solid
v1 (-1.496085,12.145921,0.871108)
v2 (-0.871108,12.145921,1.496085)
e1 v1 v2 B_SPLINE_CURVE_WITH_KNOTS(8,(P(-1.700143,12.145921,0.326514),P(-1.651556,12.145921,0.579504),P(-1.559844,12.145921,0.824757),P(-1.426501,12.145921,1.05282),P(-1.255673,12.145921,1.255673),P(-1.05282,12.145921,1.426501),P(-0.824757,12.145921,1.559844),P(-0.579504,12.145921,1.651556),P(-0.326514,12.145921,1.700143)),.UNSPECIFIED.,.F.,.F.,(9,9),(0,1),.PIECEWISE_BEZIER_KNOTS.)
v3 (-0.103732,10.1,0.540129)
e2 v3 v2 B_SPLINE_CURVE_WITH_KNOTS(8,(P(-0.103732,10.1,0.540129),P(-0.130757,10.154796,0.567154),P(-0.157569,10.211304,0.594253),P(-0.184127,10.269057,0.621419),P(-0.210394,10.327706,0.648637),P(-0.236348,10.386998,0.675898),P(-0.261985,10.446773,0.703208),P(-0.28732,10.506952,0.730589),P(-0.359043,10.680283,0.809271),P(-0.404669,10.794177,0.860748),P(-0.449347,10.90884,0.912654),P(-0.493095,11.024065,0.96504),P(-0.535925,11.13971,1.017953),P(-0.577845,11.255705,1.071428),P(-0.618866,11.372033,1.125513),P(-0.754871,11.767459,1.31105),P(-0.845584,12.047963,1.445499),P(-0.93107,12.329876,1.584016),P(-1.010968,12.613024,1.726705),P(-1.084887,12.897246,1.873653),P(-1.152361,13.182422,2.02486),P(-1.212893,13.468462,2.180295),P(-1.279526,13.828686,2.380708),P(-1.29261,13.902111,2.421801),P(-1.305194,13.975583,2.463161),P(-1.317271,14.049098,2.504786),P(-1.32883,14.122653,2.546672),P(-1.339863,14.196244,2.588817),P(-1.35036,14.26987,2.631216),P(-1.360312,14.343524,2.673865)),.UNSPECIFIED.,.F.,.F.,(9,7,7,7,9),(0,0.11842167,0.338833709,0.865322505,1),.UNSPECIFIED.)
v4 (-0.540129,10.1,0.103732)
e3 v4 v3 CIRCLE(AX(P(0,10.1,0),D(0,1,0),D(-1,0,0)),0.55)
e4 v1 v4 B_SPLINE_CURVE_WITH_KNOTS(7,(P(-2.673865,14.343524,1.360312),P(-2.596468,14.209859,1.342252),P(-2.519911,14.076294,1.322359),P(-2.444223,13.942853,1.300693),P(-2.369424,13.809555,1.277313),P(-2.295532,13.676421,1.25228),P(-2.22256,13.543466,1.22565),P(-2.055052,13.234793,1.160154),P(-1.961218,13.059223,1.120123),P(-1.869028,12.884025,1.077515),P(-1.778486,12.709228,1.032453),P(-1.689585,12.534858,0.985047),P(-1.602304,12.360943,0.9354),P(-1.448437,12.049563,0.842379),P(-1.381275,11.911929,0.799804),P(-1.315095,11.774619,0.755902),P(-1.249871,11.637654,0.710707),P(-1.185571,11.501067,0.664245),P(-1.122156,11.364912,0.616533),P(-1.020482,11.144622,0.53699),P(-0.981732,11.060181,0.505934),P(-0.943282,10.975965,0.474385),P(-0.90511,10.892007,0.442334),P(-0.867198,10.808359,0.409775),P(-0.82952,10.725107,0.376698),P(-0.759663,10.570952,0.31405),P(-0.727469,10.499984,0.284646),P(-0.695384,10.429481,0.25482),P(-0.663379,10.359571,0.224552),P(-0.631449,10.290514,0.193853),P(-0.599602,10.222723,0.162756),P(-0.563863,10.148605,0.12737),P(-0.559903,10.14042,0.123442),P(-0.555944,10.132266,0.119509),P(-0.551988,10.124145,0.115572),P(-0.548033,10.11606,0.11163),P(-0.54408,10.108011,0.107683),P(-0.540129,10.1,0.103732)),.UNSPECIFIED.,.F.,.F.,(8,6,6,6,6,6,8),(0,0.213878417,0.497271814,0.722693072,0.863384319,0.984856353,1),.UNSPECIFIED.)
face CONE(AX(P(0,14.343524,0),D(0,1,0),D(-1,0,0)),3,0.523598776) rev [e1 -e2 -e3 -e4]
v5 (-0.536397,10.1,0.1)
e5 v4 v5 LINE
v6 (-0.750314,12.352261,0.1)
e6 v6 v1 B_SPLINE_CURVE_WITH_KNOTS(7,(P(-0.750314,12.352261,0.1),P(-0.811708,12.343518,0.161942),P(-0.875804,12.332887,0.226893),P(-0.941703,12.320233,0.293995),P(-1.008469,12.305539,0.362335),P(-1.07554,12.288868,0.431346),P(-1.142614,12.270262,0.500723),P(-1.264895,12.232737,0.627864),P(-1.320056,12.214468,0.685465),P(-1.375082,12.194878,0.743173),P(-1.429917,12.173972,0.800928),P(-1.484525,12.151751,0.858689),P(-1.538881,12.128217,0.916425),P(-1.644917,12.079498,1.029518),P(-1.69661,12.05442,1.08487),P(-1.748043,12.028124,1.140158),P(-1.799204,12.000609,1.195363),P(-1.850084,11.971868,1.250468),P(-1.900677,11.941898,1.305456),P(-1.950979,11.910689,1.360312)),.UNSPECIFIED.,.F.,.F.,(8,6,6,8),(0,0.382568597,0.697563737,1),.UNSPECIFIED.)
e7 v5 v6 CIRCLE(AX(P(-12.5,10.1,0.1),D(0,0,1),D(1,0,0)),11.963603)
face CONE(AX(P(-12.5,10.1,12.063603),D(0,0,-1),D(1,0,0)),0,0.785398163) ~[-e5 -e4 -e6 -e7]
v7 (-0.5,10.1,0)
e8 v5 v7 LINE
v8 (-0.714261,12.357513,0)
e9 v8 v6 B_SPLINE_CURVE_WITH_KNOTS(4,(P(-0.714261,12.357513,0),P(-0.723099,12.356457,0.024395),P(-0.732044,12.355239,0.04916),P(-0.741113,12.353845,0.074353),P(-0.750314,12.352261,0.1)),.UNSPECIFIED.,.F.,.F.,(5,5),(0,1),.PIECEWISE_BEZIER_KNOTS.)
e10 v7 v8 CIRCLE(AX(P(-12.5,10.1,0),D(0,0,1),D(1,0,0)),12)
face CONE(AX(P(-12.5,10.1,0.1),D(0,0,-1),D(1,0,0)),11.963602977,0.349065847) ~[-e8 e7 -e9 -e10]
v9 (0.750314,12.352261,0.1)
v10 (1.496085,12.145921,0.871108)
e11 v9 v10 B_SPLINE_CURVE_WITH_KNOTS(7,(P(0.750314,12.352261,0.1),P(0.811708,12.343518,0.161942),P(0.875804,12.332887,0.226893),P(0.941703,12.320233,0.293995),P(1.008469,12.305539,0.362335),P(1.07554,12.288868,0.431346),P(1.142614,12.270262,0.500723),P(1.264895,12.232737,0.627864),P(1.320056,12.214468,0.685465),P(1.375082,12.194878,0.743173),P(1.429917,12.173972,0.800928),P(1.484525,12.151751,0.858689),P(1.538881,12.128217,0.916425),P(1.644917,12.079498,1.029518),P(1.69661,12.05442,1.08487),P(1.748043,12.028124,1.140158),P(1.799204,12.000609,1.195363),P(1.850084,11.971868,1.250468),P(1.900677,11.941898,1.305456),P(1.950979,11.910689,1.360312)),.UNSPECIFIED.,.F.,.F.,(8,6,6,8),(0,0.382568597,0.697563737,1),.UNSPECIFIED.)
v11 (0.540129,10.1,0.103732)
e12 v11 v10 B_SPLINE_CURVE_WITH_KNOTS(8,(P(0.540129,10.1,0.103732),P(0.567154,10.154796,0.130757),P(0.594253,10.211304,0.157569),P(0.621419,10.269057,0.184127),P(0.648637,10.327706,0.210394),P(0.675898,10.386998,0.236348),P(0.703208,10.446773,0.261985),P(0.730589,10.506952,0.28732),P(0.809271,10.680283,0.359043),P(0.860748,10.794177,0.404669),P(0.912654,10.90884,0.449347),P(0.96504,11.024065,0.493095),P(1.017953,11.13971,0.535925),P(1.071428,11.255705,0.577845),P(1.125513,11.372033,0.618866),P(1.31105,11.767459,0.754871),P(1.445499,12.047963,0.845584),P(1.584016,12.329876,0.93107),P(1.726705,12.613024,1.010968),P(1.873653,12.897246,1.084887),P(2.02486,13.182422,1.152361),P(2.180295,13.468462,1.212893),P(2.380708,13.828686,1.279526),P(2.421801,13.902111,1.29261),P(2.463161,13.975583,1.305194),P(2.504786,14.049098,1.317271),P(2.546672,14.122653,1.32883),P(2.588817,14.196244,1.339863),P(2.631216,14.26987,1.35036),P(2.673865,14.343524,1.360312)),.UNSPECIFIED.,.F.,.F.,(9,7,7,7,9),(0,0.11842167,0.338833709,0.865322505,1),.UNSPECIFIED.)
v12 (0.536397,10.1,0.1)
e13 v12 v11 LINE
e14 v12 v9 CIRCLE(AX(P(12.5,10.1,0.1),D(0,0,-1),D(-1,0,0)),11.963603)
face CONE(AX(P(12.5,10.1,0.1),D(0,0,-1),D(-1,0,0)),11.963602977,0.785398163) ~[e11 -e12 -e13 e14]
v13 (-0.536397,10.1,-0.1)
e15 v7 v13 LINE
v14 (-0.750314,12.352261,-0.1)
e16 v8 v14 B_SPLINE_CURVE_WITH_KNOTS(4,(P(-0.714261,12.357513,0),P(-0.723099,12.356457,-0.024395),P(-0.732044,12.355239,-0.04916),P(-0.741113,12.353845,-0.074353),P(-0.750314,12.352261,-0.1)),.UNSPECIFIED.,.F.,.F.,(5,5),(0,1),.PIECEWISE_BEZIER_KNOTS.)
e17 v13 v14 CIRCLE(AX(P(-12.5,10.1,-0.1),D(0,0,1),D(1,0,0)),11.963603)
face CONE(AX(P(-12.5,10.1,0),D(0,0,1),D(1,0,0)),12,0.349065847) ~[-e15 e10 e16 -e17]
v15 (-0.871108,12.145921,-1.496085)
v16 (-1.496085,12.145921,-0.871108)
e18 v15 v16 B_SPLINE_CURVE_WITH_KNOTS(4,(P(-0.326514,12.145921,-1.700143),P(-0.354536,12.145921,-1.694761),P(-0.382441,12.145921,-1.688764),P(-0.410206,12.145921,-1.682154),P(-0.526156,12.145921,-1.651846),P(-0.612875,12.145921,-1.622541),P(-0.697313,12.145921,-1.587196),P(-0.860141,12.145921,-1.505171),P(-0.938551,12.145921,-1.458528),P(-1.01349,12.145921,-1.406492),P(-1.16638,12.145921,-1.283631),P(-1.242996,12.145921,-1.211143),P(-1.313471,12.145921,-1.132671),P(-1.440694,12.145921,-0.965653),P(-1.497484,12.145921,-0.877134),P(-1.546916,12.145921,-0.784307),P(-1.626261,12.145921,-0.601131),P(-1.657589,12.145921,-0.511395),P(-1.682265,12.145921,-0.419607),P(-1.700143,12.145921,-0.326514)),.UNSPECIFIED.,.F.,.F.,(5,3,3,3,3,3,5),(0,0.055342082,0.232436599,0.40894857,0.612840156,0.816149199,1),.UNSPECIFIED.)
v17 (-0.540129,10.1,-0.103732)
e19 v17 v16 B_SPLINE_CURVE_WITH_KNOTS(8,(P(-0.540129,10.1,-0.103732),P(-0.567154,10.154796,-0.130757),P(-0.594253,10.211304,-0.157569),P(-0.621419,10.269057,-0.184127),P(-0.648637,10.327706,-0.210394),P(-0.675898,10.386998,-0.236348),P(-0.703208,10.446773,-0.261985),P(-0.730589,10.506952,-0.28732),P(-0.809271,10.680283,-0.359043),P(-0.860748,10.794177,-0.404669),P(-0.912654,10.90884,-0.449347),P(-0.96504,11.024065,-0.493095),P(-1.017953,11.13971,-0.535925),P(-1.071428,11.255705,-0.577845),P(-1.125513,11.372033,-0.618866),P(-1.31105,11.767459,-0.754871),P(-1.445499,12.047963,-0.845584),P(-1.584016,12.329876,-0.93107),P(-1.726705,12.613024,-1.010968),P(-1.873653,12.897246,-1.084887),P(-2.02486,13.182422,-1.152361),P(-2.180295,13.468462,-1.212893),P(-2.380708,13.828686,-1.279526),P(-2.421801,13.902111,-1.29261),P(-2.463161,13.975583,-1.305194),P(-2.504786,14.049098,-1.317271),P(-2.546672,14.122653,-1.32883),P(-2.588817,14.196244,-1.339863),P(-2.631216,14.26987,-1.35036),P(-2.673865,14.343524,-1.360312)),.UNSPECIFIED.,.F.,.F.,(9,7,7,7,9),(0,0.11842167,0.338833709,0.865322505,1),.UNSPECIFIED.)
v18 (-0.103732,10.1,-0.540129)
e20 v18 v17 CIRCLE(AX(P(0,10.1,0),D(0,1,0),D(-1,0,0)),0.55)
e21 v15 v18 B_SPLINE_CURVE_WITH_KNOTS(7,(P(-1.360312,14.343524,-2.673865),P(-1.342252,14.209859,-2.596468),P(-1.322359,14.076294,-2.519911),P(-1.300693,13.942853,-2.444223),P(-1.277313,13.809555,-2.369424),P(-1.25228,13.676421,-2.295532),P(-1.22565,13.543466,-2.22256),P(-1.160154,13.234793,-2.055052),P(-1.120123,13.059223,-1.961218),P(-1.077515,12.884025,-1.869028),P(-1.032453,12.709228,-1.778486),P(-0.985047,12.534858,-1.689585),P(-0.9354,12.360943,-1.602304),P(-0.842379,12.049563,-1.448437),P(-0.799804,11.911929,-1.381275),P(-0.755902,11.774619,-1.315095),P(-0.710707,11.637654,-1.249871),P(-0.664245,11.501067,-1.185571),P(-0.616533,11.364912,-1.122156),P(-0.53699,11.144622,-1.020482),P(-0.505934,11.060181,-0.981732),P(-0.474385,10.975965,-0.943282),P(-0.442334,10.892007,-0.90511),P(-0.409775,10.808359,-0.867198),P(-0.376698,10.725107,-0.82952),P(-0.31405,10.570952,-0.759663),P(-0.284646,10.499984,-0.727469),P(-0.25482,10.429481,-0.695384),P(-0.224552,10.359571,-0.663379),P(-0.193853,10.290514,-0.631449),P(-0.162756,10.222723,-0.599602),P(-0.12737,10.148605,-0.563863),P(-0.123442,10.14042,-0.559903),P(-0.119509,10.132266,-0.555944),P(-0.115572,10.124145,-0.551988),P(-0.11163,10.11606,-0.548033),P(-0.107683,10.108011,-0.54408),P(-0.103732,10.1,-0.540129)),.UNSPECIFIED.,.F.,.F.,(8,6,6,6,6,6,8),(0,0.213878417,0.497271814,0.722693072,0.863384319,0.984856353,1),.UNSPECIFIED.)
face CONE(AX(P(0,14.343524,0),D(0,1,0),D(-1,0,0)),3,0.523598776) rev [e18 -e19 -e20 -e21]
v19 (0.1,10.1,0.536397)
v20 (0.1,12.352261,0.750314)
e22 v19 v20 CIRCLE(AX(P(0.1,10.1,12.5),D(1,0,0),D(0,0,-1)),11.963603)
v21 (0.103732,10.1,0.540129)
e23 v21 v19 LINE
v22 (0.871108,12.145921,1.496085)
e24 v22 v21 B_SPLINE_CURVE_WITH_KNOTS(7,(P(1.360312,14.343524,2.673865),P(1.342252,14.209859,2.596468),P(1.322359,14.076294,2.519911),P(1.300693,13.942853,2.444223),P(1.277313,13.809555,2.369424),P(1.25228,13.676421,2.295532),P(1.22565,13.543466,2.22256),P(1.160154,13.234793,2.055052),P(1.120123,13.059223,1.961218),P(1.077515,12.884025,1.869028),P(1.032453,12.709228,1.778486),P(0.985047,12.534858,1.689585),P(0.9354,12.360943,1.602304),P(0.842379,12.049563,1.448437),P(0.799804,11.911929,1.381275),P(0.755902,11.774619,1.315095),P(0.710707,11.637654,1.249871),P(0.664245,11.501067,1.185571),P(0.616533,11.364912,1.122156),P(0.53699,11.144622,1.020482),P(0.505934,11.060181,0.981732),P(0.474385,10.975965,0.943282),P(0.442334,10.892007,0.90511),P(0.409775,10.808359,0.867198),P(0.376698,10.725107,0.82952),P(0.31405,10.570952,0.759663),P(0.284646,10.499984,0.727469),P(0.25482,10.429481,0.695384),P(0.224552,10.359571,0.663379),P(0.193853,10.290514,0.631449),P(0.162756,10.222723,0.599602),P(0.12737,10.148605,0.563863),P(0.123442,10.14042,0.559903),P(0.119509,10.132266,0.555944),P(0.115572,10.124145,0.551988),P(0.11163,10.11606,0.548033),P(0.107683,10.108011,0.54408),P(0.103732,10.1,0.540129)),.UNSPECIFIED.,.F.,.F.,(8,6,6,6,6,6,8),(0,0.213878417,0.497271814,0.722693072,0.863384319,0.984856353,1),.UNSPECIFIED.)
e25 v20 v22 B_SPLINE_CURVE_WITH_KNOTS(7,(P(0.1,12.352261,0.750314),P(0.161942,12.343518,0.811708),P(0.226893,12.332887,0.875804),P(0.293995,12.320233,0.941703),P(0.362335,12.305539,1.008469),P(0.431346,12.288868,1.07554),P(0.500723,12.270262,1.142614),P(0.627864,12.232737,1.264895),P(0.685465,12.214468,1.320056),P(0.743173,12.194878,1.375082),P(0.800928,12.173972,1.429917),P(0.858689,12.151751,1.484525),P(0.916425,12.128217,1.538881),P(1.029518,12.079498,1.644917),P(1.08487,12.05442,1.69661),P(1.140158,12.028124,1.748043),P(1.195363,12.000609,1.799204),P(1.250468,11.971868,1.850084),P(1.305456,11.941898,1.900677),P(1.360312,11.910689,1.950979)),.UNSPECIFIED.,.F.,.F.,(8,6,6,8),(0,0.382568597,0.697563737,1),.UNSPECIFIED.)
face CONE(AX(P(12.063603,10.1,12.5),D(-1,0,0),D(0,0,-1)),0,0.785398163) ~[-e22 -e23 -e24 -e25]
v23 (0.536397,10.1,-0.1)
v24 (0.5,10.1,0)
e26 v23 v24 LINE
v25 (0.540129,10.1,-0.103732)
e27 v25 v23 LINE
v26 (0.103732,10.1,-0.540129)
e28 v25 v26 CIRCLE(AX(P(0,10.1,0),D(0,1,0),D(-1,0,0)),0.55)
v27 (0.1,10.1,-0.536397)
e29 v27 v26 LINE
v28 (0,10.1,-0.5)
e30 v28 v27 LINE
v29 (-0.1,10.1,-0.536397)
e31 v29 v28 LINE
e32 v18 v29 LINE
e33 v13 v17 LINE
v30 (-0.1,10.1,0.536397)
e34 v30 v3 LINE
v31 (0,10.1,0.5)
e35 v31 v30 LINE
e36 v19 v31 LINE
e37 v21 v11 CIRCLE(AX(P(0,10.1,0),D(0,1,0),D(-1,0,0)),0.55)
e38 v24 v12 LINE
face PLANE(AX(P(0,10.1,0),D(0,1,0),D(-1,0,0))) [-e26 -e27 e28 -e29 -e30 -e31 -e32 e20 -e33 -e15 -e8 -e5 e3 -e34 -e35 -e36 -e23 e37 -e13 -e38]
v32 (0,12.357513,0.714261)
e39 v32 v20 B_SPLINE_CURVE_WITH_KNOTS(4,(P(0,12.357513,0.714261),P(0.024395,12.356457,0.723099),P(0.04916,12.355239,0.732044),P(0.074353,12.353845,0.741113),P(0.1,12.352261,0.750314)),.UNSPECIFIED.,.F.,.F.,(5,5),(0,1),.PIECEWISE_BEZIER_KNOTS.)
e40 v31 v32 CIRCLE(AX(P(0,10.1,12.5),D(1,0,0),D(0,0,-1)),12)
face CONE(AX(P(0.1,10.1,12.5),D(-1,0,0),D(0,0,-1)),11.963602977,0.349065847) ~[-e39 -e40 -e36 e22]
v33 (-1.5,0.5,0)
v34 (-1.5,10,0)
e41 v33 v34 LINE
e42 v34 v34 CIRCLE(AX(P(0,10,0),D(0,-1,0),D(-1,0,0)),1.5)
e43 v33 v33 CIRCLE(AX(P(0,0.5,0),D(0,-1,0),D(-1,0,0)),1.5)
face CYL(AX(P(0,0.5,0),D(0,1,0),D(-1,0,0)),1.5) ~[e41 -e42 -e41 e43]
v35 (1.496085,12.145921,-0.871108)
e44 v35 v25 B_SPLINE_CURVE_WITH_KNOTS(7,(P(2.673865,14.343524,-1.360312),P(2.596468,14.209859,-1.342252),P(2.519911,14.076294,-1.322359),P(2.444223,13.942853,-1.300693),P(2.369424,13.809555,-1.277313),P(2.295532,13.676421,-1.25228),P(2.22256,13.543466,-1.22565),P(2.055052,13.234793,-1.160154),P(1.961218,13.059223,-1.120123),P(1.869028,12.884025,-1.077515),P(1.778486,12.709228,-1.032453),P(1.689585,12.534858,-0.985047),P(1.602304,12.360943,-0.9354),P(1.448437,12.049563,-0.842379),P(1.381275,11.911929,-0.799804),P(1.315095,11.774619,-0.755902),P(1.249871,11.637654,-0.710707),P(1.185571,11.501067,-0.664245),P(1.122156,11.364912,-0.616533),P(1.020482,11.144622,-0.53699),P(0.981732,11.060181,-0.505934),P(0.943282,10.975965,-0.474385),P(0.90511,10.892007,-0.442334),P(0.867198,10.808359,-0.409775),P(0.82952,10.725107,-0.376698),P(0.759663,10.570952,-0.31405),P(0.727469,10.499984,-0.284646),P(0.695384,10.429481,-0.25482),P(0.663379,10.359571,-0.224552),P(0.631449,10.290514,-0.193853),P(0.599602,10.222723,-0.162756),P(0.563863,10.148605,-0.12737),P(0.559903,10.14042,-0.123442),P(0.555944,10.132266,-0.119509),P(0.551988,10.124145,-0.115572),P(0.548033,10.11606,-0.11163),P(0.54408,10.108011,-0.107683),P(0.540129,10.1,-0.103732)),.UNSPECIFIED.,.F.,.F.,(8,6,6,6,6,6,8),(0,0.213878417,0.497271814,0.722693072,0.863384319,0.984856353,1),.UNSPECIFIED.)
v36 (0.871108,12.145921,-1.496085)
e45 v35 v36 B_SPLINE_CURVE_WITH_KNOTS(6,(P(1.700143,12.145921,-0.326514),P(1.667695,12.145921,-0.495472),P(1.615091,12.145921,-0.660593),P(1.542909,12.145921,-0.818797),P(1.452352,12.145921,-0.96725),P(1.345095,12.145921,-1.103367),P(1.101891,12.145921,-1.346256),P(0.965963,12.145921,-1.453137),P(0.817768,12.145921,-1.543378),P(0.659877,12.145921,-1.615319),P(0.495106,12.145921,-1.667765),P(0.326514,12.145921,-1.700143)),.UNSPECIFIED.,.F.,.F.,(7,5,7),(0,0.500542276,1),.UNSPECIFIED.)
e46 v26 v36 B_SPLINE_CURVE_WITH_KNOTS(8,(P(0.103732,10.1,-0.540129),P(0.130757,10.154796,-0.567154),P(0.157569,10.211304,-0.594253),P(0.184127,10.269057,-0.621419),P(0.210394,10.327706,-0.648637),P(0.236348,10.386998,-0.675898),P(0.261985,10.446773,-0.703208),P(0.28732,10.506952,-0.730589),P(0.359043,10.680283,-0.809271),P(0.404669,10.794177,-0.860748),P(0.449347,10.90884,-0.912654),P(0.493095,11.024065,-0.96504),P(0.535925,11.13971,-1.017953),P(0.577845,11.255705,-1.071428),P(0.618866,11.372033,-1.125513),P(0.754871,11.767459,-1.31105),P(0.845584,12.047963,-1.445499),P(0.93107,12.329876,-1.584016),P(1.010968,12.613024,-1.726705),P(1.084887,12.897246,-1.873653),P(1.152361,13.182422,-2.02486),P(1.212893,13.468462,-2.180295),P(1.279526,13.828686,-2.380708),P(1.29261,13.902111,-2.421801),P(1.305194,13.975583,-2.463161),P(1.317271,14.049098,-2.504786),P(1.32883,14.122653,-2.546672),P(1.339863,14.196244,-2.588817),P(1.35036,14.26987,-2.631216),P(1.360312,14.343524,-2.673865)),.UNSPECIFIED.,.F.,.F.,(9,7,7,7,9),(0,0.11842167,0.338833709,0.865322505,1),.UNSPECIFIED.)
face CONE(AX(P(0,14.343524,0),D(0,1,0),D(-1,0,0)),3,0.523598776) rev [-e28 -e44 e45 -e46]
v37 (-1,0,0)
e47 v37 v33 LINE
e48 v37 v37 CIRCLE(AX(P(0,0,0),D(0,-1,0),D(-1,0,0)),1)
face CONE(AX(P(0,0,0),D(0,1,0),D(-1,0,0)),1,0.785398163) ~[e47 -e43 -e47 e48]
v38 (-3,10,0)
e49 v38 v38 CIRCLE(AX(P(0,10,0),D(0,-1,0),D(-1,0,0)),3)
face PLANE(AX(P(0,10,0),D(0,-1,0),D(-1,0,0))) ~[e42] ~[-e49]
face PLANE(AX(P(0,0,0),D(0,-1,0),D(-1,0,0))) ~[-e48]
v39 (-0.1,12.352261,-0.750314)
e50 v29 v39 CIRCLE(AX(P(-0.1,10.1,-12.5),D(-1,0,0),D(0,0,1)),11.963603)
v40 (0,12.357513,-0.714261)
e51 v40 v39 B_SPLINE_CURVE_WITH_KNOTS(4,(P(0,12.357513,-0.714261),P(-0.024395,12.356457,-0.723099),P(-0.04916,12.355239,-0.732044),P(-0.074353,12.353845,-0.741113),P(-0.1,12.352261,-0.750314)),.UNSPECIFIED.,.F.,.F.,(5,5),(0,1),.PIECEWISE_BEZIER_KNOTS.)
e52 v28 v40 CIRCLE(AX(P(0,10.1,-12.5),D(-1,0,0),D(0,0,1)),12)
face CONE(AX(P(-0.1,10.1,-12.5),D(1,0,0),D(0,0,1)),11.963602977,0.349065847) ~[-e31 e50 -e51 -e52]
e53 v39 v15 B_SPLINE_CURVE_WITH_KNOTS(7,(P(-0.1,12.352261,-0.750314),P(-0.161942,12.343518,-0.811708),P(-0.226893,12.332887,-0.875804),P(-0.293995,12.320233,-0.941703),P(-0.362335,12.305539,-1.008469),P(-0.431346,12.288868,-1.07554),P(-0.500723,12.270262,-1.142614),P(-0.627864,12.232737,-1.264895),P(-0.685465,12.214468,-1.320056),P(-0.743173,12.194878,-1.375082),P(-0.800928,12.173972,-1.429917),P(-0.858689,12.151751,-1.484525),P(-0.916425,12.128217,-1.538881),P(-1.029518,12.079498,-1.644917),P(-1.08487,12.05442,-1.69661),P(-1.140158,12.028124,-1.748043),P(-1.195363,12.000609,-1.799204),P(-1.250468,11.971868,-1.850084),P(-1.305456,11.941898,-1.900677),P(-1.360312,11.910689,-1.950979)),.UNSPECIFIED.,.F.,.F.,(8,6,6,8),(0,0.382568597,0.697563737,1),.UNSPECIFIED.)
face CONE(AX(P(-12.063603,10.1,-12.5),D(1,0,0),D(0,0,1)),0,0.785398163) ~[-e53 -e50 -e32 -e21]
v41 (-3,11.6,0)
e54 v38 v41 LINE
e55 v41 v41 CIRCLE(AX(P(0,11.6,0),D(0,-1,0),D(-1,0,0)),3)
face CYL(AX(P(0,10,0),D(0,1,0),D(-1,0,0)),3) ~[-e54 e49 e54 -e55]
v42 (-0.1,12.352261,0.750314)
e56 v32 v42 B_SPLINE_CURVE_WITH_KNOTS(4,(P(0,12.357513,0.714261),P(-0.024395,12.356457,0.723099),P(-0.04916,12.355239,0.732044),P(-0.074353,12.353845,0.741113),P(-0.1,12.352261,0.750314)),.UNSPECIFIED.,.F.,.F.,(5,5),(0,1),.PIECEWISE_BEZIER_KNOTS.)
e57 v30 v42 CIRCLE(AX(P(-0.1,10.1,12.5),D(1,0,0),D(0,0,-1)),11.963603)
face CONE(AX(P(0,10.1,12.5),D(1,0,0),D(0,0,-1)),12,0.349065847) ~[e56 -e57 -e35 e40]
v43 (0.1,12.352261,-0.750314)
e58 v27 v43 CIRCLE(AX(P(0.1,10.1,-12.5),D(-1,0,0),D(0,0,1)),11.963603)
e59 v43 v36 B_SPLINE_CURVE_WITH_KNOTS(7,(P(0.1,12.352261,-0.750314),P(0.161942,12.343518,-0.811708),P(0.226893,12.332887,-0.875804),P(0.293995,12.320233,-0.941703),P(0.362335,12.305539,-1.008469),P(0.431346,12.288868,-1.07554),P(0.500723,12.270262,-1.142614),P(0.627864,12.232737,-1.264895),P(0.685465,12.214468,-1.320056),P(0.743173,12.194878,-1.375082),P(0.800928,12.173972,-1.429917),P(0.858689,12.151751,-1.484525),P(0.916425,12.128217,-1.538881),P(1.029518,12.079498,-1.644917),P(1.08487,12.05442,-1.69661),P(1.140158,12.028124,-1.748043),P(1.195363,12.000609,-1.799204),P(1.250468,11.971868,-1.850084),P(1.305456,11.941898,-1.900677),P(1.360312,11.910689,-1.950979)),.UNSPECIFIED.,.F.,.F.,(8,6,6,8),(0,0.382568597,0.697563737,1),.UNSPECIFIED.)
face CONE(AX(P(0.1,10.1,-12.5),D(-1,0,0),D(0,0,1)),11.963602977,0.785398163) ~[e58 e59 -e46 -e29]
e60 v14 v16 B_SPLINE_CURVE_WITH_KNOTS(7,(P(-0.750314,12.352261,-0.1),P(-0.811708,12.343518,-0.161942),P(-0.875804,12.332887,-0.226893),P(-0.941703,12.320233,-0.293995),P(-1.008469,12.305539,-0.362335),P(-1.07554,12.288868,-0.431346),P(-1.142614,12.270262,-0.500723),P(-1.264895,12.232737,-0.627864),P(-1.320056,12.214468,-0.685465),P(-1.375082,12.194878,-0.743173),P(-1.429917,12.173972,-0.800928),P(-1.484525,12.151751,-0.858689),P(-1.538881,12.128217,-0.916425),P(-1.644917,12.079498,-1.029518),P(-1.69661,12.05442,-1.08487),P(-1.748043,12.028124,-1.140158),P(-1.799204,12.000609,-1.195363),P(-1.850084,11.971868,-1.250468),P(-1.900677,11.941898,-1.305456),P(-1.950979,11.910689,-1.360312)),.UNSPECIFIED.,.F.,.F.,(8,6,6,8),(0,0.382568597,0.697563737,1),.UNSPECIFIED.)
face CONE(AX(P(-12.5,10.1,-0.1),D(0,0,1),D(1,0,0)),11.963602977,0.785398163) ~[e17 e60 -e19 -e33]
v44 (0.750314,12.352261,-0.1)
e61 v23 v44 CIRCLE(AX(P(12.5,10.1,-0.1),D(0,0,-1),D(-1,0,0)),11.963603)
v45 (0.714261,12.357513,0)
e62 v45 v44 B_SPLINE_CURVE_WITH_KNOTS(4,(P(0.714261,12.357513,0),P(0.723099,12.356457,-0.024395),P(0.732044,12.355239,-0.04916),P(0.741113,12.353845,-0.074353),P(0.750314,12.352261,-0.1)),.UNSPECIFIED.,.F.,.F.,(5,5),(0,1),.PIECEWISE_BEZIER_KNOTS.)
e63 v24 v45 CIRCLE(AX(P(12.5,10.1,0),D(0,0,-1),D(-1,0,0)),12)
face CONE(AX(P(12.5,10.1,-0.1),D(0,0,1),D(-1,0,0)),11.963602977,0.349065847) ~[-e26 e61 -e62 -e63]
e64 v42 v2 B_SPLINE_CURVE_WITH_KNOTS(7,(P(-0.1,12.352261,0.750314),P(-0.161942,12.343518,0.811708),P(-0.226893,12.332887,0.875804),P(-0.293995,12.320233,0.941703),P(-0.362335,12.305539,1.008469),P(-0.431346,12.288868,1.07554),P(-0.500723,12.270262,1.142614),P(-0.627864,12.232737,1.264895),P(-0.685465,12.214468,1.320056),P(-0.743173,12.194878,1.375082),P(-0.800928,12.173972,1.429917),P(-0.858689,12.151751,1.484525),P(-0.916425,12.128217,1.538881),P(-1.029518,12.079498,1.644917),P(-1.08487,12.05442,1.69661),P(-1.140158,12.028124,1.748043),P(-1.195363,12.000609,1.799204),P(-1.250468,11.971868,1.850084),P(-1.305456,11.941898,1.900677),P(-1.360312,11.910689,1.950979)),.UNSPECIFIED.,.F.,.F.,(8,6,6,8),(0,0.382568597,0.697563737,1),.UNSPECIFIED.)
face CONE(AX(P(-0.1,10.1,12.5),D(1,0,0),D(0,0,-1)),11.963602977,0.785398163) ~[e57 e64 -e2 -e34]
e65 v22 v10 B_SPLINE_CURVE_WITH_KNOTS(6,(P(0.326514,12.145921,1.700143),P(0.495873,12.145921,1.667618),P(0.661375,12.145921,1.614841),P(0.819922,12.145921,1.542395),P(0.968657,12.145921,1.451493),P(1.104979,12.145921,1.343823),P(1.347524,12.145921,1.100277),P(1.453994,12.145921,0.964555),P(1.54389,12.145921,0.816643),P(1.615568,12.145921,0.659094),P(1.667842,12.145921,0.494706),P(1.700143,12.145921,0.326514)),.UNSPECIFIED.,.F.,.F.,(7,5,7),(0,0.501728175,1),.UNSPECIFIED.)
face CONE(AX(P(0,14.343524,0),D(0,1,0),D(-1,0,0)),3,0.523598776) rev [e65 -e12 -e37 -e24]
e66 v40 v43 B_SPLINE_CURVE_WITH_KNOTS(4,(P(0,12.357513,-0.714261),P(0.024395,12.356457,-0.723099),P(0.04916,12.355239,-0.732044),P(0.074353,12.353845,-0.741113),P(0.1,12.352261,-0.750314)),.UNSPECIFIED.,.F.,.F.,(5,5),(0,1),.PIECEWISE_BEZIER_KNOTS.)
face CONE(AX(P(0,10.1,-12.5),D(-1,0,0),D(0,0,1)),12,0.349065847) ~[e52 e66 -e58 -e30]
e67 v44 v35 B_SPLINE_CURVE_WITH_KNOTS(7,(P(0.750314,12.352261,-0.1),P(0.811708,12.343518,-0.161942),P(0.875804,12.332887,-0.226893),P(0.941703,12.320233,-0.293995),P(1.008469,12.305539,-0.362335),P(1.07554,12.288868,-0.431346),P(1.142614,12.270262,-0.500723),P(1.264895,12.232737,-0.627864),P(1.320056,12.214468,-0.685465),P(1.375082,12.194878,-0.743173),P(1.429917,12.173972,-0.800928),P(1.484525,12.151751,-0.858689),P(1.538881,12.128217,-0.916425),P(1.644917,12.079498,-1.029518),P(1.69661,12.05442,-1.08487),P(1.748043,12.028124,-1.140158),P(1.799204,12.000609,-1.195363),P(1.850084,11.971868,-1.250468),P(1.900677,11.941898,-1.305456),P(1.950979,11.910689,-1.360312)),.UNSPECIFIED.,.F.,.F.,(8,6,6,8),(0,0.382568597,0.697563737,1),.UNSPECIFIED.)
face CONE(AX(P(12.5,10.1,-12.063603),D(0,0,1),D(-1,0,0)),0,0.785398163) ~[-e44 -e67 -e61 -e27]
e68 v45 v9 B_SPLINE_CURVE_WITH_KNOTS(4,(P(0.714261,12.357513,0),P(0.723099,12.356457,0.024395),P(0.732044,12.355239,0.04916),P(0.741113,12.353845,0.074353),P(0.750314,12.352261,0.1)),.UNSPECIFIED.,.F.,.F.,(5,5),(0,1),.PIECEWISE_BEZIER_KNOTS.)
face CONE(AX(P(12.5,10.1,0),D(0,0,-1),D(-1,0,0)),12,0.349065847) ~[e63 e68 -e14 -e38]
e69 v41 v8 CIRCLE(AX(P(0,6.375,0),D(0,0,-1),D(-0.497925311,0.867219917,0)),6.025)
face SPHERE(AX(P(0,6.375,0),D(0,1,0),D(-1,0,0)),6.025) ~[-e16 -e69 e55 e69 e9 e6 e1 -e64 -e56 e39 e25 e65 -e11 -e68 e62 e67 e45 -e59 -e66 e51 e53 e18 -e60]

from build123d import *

# Parameters (mm, degrees)
R_P_TITION_CIRCULAIRE1_COUNT = 4


with BuildPart() as part:
    # Esquisse1 → Révolution1 (revolve)
    with BuildSketch(Plane.XY):
        with BuildLine():
            Line((0, 0), (-1, 0))
            Line((-1, 0), (-1.5, 0.5))
            Line((-1.5, 0.5), (-1.5, 10))
            Line((-1.5, 10), (-3, 10))
            Line((-3, 10), (-3, 11.6))
            ThreePointArc((-3, 11.6), (-1.55241747, 12.196565511), (0, 12.4))
            Line((0, 12.4), (0, 0))
        make_face()
    revolve(axis=Axis((0, 12.4, 0), (0, -1, 0)))


with BuildPart() as body_2:
    # Esquisse4 → Révolution2 (revolve)
    with BuildSketch(Plane.XY):
        Polygon((0, 20.1), (-3, 20.1), (-3, 14.343524479), (-0.55, 10.1), (0, 10.1), align=None)
    revolve(axis=Axis((0, 10.1, 0), (0, 1, 0)))

    # Esquisse5 → Enlèvement de matière-Révolution2 (revolve, cut)
    with BuildSketch(Plane.XZ.offset(-10.1)):
        Polygon((-12.5, 12.063602977), (-0.536397023, 0.1), (-0.5, 0), (-0.536397023, -0.1), (-12.5, -12.063602977), align=None)
    enl_vement_de_mati_re_r_volution2 = revolve(axis=Axis((-12.5, 10.1, -12.063602977), (0, 0, 1)), mode=Mode.SUBTRACT)

    # Répétition circulaire1: Enlèvement de matière-Révolution2 ×4 about axis
    r_p_tition_circulaire1_axis = Axis((0, 10.1, 0), (0, 1, 0))
    for i in range(1, R_P_TITION_CIRCULAIRE1_COUNT):
        add(enl_vement_de_mati_re_r_volution2.rotate(r_p_tition_circulaire1_axis, i * 360 / R_P_TITION_CIRCULAIRE1_COUNT), mode=Mode.SUBTRACT)


with BuildPart() as part_1:
    add(part.part)

    # Combiner1: cut body 2
    add(body_2.part, mode=Mode.SUBTRACT)


solid = part_1.part
